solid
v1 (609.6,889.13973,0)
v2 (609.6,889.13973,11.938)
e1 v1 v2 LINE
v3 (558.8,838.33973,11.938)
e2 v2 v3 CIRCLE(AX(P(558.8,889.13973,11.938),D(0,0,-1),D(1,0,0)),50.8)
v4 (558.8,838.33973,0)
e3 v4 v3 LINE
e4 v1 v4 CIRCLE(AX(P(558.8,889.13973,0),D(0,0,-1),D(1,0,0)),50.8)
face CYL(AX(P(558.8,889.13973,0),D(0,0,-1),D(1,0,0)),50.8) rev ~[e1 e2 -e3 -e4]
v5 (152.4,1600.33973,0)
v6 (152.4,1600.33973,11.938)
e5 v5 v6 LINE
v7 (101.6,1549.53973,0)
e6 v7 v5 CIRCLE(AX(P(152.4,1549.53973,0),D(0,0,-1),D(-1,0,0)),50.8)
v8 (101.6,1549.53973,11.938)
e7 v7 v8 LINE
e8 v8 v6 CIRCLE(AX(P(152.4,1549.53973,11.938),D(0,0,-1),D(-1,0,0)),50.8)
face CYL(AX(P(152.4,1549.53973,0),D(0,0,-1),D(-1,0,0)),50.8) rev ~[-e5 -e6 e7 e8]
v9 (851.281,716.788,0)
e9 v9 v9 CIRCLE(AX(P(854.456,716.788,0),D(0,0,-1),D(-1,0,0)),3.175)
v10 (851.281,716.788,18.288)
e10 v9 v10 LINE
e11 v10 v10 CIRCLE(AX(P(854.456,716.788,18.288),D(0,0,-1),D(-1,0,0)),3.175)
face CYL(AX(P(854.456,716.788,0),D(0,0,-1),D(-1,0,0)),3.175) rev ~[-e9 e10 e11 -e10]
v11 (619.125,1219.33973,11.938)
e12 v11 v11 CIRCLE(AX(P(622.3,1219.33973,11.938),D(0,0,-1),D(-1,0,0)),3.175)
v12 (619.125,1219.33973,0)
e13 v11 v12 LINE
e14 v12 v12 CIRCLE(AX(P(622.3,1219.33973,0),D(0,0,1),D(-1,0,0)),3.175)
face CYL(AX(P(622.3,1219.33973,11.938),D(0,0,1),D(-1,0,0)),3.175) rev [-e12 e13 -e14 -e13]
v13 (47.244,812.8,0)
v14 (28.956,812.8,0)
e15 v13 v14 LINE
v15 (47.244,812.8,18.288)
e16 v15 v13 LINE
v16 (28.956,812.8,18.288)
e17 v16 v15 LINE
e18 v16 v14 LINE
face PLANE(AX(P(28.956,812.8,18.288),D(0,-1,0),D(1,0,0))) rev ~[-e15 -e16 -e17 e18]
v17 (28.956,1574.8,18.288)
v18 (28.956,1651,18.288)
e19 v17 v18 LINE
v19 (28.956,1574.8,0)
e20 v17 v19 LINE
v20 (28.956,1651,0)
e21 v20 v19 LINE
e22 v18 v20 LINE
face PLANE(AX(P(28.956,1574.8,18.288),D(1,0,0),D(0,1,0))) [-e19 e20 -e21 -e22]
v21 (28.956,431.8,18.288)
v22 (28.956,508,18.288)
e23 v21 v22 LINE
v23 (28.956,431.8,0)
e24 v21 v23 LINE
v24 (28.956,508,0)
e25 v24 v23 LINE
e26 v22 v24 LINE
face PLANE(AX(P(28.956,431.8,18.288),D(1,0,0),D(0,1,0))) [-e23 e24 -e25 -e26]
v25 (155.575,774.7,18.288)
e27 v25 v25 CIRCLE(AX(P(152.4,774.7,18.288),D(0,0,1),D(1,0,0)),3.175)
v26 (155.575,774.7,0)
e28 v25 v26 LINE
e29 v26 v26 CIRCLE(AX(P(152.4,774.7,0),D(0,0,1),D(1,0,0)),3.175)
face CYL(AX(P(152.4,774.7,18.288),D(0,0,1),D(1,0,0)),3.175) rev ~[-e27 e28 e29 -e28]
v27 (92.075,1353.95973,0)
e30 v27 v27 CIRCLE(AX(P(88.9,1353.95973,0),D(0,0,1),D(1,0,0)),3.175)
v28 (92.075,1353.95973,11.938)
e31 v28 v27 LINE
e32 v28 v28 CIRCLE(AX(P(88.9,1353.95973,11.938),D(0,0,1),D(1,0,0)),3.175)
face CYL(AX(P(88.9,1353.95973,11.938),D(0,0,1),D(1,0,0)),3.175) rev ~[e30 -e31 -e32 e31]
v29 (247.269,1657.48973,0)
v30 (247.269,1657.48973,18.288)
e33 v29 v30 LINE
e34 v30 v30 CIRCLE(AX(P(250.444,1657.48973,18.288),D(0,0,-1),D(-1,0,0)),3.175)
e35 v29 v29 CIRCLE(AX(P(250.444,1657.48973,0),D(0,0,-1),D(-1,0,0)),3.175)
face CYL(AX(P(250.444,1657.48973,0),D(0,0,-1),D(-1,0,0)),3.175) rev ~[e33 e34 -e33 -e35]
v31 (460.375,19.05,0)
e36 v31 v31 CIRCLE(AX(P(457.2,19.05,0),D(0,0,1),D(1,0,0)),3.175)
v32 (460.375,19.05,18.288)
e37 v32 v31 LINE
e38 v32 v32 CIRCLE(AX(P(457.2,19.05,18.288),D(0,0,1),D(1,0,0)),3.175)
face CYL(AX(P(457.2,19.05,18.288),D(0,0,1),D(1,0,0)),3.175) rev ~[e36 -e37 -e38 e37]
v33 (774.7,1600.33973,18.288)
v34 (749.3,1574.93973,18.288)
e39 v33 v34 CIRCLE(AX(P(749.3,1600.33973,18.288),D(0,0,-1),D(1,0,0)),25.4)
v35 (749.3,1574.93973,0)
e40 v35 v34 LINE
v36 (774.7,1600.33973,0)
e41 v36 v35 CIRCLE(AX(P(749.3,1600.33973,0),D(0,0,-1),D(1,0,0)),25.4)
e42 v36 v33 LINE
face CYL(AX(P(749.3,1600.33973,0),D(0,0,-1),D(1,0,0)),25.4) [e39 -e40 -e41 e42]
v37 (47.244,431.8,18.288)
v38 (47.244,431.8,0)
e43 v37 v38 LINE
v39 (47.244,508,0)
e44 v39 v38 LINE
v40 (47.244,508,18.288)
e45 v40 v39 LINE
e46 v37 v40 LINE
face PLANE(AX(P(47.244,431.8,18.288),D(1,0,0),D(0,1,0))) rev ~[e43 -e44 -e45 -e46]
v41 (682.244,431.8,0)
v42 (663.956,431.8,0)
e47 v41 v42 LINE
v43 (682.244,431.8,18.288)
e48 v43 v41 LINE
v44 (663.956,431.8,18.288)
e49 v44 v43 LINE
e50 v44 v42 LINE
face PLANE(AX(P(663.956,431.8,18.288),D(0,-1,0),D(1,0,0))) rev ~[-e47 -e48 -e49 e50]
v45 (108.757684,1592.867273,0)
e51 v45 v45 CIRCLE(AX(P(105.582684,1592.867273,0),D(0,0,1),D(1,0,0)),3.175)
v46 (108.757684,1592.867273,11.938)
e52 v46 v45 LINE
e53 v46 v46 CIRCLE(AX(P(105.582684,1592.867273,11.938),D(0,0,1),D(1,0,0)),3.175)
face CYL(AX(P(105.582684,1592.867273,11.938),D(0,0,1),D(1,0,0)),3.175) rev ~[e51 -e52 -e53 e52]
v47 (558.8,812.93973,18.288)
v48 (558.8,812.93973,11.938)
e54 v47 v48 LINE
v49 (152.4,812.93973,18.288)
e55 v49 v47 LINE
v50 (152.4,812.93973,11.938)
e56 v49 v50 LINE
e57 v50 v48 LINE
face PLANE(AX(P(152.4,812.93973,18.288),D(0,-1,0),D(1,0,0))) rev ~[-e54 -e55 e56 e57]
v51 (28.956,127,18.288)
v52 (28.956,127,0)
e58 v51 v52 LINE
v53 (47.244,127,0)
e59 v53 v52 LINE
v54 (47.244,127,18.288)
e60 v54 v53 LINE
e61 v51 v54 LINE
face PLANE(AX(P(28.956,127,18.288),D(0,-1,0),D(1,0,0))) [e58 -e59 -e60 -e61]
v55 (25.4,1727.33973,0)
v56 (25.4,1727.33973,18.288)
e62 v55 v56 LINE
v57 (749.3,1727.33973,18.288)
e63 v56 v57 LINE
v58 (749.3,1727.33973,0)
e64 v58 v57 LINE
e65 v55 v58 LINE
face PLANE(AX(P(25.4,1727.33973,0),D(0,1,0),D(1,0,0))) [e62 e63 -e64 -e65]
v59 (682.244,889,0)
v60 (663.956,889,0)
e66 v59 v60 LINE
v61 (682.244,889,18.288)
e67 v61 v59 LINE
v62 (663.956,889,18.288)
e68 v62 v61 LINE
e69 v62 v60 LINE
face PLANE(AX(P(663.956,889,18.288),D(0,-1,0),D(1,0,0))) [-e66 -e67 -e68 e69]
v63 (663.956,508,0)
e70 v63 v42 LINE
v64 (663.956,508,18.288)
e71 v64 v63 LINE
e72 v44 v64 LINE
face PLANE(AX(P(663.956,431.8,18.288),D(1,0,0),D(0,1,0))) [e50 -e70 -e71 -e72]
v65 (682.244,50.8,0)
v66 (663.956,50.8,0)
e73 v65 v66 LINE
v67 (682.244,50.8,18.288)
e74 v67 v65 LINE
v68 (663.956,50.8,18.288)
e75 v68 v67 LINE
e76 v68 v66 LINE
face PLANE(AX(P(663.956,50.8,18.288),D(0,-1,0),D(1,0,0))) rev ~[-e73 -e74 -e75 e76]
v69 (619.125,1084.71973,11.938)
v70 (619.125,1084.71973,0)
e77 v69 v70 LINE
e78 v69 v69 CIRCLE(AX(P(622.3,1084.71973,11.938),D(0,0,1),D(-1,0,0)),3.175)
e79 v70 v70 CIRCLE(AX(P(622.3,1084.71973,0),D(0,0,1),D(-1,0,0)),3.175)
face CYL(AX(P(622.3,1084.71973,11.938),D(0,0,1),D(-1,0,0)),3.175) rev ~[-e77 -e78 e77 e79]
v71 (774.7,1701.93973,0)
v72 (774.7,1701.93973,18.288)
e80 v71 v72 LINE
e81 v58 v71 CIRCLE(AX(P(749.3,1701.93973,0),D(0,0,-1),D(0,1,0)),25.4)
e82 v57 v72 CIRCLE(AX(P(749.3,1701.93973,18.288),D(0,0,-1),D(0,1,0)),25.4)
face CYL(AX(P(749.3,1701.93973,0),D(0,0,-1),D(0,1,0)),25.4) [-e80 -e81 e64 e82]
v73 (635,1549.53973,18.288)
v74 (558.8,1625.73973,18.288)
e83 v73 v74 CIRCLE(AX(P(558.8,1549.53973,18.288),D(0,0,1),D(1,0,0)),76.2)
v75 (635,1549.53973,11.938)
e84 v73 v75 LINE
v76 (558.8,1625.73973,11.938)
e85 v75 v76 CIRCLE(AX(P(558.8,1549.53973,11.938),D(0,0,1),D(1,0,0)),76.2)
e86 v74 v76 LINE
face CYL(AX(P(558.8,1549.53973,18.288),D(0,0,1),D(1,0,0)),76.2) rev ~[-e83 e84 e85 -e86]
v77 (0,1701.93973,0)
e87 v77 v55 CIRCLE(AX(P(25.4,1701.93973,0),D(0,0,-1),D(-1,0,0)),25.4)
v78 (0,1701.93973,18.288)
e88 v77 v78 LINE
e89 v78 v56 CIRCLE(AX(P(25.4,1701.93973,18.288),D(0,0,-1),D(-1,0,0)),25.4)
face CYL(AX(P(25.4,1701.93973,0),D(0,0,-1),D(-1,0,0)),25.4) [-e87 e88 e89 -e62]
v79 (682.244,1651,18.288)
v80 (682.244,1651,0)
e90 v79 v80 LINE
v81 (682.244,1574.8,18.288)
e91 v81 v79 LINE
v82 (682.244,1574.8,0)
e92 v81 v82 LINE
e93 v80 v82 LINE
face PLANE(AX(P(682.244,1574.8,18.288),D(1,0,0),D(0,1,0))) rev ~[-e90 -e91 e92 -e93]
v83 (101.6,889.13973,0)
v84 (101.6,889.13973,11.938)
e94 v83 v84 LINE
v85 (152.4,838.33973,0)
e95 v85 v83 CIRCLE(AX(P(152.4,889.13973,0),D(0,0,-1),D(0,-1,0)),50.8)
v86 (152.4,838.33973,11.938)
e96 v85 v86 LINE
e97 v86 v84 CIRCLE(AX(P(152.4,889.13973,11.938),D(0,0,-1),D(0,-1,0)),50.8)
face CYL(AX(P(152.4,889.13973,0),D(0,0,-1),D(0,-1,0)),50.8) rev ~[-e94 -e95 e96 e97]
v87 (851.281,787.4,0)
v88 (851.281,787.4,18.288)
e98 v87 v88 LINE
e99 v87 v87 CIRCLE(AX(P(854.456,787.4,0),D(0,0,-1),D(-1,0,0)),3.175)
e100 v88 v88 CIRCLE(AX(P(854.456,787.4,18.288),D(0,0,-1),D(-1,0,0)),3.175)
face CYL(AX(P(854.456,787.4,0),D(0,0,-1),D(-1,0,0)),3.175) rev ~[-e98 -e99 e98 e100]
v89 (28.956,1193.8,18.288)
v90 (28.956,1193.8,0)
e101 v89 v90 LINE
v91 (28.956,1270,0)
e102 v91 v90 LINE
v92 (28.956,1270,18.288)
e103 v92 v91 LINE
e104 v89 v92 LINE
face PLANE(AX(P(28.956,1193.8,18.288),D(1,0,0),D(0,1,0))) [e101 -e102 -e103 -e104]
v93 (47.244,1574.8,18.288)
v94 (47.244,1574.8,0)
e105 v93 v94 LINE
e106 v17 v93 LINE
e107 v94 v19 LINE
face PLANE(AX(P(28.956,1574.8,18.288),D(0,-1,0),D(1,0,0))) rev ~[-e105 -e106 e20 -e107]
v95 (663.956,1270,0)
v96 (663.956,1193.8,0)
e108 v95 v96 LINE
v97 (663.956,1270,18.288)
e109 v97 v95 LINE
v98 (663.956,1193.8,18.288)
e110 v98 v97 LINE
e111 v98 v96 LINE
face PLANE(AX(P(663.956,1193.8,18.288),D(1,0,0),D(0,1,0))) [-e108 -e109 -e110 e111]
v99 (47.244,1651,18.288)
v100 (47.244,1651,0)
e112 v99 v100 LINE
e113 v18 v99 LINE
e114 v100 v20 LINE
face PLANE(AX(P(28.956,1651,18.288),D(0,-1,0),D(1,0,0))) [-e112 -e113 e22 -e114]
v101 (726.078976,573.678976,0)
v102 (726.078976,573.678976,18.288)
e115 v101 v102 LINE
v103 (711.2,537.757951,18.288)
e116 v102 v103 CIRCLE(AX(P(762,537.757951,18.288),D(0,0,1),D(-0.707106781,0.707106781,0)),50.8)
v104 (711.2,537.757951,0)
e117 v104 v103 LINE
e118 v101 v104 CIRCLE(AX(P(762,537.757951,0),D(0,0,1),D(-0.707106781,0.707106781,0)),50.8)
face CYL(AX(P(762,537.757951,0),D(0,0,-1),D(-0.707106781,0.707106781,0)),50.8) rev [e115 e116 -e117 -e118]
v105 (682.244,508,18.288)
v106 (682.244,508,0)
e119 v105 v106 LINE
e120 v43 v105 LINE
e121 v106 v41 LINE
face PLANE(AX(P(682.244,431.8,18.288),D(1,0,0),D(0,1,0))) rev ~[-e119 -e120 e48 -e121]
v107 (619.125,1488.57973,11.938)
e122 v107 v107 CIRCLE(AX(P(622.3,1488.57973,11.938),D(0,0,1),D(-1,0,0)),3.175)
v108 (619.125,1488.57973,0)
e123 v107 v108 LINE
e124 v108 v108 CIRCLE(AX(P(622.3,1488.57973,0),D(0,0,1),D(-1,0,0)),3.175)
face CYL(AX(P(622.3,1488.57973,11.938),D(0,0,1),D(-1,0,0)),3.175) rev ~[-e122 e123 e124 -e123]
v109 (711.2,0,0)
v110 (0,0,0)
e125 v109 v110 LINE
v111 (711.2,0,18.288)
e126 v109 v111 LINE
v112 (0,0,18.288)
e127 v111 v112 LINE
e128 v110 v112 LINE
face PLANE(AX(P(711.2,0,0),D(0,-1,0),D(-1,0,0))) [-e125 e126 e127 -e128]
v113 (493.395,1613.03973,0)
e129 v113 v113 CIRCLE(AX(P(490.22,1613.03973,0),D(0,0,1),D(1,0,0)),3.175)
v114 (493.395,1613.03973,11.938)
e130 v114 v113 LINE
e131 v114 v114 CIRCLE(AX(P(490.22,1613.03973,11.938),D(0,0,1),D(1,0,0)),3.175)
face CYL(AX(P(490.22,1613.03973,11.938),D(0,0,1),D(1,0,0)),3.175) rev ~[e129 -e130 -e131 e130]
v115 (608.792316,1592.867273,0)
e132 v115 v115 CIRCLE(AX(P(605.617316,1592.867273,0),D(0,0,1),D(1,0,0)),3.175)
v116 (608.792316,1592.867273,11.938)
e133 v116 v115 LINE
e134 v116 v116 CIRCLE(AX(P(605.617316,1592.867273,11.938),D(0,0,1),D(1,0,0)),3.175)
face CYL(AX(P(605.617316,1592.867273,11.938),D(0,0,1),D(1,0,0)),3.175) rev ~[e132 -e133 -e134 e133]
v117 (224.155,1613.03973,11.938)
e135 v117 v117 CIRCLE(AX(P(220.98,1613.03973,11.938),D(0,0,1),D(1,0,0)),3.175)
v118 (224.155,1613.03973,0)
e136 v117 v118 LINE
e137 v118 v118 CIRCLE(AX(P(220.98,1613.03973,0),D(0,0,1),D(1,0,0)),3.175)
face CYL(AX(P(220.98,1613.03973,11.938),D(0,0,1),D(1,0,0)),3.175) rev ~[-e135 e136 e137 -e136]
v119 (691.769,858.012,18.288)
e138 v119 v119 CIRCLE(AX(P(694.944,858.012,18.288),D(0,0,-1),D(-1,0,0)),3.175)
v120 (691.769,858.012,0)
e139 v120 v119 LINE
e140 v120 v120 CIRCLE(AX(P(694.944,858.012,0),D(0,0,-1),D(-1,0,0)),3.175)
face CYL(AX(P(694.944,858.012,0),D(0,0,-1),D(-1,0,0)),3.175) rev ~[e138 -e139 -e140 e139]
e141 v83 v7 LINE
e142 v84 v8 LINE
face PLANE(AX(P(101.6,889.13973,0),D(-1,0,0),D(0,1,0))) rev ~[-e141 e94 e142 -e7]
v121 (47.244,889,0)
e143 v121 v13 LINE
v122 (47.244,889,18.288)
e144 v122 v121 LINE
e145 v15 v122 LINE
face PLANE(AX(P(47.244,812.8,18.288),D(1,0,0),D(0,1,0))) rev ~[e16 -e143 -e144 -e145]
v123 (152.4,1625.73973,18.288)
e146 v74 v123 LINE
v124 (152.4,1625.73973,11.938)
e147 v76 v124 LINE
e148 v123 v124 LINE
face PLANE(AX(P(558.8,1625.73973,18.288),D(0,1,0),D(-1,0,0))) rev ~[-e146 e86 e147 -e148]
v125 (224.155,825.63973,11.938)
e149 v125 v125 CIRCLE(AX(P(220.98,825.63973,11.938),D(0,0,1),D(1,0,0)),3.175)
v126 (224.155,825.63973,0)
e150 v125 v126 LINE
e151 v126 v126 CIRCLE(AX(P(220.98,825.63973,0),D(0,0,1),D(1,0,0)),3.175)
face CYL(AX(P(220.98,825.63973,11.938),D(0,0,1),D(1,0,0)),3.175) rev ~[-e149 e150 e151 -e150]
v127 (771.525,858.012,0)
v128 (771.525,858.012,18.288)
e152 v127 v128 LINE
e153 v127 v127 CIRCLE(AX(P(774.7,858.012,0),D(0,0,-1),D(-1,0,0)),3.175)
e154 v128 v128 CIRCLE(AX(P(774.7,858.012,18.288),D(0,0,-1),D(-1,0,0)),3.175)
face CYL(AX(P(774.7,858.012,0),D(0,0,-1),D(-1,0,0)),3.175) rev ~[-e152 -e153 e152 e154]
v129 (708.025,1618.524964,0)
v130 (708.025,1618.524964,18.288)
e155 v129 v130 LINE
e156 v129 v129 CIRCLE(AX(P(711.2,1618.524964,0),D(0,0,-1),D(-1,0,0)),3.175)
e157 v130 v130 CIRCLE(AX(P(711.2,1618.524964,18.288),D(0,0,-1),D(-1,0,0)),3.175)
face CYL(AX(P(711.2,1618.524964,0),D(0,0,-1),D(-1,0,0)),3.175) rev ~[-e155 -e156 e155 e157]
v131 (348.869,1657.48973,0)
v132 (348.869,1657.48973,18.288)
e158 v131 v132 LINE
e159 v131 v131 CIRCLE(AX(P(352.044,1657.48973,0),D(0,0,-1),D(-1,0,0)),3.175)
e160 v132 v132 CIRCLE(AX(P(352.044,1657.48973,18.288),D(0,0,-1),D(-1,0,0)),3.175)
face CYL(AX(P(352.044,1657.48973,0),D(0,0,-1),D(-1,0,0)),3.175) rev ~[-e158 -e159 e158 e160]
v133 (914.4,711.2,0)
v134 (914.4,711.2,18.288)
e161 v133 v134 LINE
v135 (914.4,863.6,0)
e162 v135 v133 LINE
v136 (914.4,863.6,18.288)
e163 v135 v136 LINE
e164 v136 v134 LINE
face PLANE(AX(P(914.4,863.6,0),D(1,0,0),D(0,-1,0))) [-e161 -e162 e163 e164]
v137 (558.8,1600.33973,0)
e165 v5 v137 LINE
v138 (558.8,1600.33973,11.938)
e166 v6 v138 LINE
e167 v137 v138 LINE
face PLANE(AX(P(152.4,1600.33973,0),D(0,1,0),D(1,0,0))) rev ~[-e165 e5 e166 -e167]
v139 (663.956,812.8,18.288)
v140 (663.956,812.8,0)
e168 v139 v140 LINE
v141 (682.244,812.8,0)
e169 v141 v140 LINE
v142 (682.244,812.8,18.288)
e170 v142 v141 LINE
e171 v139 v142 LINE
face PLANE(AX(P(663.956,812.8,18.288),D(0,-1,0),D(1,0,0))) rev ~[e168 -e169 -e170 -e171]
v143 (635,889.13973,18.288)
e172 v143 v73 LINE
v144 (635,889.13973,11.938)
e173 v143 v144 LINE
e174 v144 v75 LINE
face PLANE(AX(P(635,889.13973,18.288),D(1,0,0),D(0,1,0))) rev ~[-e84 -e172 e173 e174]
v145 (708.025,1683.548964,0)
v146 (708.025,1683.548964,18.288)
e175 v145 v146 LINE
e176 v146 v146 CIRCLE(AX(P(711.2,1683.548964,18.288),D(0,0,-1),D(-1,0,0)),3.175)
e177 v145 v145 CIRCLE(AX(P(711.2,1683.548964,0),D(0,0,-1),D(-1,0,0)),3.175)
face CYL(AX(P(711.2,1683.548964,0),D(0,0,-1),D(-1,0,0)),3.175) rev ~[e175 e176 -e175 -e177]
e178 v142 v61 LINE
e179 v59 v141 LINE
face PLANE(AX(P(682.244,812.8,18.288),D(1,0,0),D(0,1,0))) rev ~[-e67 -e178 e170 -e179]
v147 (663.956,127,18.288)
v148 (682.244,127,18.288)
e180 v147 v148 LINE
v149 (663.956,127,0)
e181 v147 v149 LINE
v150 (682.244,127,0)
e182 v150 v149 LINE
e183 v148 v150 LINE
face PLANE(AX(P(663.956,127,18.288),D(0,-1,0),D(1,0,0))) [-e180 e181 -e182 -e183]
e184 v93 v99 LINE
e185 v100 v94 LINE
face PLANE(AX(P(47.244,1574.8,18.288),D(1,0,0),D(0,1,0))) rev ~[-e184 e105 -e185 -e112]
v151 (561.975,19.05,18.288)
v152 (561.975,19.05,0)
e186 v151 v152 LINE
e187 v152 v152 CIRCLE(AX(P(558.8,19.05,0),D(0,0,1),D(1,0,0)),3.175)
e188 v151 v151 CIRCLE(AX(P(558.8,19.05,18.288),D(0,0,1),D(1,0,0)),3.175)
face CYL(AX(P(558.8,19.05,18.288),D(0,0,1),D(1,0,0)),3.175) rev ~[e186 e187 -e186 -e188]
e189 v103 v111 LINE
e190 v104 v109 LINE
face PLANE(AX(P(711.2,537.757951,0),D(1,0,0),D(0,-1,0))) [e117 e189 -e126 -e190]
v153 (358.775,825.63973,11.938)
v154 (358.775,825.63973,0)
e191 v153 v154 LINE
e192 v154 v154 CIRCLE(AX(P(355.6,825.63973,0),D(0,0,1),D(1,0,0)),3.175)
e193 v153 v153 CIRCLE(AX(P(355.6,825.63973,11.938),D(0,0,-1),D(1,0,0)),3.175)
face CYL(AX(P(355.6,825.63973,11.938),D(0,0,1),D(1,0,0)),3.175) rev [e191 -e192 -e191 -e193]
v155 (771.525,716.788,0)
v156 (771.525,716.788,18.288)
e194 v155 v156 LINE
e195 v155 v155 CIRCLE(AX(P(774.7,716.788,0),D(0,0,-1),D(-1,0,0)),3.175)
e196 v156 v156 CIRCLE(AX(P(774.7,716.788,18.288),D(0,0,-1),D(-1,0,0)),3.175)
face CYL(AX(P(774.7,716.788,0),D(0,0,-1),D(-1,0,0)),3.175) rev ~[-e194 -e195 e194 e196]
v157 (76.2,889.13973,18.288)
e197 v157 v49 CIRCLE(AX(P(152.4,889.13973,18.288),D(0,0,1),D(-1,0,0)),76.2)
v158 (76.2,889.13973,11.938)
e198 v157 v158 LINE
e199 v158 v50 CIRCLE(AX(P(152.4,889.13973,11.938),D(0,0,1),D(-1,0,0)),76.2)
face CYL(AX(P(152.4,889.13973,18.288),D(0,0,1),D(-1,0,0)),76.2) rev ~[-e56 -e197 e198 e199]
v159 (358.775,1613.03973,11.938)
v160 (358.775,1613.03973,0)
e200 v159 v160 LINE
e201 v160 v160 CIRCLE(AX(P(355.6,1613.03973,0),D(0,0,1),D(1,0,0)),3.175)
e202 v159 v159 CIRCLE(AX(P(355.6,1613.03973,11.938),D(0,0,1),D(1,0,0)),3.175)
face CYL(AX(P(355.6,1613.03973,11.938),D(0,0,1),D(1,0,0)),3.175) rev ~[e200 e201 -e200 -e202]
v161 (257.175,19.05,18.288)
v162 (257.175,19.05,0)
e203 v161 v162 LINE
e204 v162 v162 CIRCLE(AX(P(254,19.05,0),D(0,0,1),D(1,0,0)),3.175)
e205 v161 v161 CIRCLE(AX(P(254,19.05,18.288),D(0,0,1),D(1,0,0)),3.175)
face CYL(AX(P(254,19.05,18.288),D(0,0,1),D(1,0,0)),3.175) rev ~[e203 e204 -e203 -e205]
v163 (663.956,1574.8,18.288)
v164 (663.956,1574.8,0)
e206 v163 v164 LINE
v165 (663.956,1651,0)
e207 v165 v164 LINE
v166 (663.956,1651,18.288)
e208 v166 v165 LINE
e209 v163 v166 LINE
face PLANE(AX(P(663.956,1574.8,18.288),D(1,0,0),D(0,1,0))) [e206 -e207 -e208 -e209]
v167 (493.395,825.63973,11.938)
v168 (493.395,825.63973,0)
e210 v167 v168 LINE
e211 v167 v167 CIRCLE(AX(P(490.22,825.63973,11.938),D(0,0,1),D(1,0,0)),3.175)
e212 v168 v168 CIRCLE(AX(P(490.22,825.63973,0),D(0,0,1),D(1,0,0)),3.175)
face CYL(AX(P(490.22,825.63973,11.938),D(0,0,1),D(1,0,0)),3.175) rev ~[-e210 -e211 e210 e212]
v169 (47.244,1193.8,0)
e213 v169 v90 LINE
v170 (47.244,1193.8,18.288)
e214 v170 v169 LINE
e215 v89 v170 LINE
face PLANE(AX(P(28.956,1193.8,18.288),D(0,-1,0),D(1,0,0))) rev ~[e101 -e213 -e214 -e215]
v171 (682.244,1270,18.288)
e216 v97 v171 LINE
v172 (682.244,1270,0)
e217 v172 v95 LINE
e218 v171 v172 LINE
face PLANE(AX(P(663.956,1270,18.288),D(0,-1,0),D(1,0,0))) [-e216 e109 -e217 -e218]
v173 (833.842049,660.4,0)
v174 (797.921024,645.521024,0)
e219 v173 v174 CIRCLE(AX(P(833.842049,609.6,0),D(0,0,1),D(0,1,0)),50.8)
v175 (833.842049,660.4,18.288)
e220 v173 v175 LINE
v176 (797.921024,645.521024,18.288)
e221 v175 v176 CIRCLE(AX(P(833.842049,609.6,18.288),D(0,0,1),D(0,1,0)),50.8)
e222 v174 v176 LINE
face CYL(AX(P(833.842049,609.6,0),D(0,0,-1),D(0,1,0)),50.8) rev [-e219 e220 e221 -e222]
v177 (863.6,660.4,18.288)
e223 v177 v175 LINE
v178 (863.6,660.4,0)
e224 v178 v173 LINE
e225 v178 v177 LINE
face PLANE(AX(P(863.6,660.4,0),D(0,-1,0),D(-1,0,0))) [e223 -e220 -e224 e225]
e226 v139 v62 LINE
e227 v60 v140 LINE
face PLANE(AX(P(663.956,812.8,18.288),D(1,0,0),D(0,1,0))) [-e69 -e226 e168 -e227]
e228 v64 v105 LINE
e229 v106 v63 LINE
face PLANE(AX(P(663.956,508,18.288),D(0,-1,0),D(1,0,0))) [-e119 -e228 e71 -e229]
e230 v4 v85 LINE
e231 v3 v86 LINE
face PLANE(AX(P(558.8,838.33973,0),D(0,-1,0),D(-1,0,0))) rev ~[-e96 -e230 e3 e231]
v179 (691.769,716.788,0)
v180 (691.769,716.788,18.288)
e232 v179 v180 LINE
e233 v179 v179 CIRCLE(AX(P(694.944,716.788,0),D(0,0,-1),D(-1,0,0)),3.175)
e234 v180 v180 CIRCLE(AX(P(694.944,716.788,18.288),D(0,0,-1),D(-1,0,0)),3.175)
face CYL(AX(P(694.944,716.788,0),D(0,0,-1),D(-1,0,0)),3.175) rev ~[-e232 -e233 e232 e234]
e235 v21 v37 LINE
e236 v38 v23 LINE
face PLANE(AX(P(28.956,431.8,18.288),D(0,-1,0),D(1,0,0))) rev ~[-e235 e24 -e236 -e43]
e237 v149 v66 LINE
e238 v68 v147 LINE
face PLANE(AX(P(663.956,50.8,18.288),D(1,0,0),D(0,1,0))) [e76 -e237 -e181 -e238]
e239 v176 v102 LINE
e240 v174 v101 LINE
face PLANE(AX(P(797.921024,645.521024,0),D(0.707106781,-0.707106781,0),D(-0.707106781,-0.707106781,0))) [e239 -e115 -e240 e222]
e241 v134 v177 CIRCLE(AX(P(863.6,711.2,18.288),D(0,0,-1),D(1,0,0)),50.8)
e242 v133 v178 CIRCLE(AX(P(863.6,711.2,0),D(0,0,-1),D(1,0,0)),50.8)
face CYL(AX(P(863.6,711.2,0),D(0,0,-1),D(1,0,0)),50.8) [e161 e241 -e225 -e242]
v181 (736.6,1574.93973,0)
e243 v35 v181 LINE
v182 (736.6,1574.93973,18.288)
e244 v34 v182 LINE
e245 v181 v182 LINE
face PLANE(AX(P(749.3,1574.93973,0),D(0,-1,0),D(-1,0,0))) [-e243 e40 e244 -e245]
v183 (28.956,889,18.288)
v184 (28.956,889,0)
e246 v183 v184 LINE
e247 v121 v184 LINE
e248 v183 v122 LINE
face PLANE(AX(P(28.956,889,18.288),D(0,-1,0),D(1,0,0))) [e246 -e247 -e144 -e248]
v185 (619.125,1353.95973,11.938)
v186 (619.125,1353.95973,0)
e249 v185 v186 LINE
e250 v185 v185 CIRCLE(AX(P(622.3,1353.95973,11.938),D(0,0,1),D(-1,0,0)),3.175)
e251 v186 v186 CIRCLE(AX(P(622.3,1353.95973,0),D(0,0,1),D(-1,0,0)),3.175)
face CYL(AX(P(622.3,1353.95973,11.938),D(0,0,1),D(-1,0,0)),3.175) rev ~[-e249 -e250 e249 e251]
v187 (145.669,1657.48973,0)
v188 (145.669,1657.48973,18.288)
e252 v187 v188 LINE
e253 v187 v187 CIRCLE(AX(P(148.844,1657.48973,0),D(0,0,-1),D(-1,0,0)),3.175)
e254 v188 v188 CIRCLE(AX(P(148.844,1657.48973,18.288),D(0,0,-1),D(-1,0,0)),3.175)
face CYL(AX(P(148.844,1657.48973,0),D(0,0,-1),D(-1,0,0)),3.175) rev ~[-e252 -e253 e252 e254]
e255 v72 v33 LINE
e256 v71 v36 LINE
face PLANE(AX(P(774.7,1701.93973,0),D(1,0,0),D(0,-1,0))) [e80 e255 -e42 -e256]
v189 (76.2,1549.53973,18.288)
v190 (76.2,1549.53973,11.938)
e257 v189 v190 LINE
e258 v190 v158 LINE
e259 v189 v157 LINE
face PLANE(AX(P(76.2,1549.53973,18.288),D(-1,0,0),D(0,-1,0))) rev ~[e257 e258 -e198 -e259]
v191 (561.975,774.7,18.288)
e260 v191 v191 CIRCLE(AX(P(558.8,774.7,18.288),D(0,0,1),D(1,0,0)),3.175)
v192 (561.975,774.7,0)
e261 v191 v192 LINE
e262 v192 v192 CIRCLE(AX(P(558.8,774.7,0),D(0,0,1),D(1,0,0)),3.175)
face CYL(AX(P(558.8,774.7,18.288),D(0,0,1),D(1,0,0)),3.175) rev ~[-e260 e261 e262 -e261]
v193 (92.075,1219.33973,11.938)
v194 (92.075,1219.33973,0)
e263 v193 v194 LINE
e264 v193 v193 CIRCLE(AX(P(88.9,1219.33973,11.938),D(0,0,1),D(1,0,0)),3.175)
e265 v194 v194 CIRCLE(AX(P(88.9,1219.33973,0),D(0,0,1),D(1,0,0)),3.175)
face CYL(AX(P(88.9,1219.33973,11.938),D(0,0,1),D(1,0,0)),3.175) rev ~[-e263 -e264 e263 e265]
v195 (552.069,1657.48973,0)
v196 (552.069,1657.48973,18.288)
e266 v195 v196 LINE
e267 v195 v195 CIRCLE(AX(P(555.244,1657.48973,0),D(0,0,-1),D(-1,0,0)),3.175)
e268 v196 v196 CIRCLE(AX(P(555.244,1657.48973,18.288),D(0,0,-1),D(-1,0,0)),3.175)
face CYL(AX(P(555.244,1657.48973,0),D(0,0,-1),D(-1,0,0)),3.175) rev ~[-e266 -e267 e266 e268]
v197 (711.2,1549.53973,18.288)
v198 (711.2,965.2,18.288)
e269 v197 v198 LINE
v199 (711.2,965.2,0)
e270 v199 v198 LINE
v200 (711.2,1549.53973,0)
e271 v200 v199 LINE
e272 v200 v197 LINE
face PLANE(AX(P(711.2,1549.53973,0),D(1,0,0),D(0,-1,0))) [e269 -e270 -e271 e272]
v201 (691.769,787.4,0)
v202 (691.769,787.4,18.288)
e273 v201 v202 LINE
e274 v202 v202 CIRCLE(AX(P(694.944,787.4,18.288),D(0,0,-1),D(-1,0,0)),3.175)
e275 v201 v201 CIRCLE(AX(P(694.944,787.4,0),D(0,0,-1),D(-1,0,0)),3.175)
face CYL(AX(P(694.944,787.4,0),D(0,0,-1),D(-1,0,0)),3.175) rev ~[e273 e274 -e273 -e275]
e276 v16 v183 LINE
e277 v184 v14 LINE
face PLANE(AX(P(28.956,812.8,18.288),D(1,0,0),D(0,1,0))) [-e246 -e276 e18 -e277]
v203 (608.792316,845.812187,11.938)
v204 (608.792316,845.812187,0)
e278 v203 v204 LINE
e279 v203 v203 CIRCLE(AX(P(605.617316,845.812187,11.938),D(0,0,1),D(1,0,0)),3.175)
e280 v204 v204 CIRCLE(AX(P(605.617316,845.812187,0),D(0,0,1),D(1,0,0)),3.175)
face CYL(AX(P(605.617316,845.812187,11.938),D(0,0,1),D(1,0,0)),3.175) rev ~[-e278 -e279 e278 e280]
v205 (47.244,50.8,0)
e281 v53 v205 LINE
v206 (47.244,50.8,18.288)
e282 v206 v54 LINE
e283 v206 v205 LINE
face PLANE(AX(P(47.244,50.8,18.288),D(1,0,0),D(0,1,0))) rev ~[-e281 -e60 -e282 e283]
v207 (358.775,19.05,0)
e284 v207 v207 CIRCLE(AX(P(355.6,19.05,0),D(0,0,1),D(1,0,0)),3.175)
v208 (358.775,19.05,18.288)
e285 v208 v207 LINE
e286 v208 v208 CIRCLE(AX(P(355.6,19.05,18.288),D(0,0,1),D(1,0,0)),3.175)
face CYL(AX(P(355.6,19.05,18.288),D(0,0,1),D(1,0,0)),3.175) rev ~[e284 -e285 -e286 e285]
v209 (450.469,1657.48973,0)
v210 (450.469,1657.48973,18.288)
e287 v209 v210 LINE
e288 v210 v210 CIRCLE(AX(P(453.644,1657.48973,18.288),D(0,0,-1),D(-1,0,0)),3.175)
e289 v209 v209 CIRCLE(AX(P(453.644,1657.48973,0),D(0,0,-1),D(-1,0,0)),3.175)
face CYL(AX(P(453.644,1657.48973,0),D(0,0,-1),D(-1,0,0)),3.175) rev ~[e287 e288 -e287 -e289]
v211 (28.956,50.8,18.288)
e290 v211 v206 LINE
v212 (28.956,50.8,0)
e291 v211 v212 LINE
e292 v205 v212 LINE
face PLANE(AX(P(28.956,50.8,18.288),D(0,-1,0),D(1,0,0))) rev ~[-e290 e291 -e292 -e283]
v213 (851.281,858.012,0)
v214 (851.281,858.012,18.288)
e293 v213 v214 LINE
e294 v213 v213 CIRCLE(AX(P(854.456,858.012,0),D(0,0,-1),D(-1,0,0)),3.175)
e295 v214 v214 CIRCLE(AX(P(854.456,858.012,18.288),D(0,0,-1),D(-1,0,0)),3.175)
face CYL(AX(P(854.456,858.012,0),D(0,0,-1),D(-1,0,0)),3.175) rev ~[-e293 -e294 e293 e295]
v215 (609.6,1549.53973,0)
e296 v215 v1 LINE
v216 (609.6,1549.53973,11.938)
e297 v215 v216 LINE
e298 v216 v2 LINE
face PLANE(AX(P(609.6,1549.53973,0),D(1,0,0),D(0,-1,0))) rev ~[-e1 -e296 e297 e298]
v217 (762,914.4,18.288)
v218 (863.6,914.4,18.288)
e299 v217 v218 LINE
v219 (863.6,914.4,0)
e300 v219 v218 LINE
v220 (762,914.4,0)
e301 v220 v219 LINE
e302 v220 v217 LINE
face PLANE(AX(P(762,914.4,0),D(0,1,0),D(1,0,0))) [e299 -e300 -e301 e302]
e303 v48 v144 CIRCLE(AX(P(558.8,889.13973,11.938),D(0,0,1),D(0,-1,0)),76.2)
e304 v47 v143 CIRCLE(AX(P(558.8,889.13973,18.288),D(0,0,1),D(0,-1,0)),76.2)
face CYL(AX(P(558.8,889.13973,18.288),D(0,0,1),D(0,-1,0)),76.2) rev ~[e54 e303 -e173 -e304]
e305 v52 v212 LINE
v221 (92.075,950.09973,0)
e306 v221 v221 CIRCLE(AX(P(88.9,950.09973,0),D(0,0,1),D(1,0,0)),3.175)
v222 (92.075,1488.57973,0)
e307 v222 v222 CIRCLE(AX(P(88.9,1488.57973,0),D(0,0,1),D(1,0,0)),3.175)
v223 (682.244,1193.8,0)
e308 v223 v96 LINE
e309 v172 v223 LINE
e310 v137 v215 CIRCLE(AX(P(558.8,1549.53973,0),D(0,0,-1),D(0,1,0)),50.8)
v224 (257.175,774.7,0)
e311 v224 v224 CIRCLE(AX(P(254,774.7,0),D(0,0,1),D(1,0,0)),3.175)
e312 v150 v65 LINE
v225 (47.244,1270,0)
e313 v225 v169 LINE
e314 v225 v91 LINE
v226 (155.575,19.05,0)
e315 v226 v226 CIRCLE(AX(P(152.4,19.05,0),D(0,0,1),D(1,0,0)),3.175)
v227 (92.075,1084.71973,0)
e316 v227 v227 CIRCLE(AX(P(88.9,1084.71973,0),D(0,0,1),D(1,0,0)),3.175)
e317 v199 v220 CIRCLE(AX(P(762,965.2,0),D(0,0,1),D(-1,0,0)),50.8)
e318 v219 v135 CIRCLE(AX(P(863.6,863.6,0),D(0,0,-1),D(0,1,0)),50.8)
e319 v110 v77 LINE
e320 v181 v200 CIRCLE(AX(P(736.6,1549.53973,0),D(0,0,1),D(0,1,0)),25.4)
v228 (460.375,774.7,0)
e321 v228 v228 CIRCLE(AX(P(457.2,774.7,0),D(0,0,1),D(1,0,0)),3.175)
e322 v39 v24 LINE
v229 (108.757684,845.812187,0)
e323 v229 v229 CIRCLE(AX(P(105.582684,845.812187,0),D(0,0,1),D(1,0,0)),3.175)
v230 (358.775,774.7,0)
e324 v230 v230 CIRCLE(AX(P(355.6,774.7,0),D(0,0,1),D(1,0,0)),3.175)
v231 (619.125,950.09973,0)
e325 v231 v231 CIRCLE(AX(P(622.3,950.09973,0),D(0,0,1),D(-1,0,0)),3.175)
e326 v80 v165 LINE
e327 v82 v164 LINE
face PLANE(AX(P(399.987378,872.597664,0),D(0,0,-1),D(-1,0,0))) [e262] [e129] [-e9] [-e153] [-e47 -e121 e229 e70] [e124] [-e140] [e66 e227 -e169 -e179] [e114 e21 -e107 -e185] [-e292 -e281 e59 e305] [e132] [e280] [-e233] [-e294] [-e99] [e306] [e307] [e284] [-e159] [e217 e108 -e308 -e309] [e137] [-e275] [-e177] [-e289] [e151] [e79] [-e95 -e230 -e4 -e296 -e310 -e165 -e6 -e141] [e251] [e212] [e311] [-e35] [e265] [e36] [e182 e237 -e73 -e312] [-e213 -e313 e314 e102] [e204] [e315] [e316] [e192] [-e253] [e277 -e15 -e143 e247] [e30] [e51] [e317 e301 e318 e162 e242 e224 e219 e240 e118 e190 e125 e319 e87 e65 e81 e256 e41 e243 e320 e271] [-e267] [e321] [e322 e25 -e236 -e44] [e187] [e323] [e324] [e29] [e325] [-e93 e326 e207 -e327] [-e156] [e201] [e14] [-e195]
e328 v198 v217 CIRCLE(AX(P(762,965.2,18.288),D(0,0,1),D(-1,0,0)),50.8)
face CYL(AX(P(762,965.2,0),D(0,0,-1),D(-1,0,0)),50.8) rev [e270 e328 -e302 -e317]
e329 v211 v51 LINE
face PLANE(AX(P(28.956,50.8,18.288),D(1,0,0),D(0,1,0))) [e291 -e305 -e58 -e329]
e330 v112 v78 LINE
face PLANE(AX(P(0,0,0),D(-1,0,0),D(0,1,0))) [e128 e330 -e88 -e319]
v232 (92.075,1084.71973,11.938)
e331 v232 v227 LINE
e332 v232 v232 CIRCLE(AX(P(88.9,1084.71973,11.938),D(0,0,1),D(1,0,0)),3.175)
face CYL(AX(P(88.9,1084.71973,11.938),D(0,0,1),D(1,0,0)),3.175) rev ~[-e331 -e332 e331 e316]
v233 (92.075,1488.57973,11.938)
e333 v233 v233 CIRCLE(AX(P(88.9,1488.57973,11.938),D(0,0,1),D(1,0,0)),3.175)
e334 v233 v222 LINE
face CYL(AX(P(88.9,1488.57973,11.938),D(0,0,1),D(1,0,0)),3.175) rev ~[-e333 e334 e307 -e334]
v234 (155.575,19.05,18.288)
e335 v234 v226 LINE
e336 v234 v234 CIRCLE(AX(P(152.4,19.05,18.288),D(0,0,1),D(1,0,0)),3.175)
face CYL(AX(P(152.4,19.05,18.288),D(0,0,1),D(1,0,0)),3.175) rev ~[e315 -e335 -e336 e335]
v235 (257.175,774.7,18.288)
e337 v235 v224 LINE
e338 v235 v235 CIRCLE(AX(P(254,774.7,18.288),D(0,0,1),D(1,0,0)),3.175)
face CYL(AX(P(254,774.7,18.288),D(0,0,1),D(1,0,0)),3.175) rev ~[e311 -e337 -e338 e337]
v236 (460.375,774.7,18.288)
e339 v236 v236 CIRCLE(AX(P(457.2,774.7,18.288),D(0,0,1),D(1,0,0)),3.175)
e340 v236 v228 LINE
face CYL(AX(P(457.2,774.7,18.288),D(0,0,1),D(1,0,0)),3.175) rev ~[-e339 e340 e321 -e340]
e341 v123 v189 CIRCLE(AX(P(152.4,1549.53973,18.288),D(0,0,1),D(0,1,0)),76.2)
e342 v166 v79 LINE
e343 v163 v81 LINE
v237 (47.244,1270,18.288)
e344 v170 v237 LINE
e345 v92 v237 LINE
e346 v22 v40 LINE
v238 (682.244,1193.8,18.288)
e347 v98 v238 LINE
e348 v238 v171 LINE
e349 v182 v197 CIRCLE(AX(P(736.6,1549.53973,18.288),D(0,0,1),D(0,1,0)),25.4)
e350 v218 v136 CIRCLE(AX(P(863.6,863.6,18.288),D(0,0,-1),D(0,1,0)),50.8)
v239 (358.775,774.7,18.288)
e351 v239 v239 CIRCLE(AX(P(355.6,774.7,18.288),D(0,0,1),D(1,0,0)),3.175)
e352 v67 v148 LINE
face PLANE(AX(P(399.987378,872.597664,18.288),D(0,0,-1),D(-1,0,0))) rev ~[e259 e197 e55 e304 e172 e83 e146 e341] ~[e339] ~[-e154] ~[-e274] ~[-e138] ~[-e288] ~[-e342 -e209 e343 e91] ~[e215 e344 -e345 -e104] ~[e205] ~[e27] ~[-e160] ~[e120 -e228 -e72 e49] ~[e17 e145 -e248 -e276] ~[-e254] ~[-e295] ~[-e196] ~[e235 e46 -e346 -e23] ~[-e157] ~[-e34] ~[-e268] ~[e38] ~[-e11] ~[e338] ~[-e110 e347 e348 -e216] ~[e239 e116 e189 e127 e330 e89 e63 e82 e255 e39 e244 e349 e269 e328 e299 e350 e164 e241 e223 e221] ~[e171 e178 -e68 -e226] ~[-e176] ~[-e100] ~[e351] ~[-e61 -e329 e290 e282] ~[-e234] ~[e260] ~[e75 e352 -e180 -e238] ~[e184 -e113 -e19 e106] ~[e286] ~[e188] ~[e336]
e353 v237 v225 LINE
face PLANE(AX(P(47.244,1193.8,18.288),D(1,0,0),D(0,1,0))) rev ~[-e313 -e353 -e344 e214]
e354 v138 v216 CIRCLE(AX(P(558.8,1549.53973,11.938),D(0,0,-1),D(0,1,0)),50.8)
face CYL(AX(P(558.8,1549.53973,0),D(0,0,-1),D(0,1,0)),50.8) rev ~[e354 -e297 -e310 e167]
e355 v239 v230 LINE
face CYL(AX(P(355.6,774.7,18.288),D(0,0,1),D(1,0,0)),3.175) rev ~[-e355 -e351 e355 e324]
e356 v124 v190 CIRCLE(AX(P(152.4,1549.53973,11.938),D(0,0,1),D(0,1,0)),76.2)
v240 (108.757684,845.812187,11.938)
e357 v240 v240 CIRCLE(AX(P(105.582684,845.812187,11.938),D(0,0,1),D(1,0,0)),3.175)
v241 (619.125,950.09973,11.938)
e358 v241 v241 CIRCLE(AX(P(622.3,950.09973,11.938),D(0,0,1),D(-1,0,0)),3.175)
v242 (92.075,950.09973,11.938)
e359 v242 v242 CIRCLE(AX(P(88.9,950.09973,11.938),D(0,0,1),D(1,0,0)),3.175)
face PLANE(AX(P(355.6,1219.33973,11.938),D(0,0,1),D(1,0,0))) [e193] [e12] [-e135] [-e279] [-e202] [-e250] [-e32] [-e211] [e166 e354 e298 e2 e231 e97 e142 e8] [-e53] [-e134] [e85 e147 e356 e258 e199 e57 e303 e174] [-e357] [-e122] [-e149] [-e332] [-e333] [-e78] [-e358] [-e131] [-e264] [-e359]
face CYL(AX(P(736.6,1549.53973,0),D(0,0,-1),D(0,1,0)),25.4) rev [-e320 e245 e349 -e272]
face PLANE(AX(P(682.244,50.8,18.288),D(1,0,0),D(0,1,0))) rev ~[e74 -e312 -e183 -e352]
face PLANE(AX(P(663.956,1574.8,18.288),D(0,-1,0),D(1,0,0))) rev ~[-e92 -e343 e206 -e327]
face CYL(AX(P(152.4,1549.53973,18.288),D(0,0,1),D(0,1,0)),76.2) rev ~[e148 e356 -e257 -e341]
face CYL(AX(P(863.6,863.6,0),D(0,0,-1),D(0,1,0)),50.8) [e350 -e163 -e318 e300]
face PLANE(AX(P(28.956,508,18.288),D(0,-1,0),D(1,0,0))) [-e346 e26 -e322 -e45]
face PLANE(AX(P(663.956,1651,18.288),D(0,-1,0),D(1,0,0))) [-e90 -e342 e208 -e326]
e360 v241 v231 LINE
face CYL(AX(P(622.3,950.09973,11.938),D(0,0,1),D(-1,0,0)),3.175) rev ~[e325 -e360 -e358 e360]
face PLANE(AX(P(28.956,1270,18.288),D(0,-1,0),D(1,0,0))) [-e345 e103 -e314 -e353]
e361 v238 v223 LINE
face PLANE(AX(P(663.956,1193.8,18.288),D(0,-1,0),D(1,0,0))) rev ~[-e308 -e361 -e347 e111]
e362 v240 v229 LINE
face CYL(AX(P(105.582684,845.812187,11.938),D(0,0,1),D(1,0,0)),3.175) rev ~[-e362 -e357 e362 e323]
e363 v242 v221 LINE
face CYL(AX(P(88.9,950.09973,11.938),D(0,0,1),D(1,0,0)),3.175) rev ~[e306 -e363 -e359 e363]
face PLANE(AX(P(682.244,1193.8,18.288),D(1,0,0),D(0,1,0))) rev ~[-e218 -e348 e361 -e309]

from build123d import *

# Parameters (mm, degrees)
BOSS_EXTRUDE1_DEPTH     = 18.288
SKETCH1_W               = 18.288
SKETCH1_H               = 76.2
MORTISE_CUTS_DEPTH      = 1955.524073472
LPATTERN1_COUNT         = 5
LPATTERN1_PITCH         = 381
WINDOW_RECESS_DEPTH     = 6.35
SKETCH3_R               = 3.175
CUT_EXTRUDE4_DEPTH      = 1955.474972641
SKETCH6_R               = 3.175
CUT_EXTRUDE5_DEPTH      = 1955.474972641
LPATTERN2_COUNT         = 3
LPATTERN2_PITCH         = 134.62
LPATTERN2_COL_COUNT     = 3
LPATTERN2_COL_PITCH     = 134.62
MIRROR1_COPY_1_SKETCH_R = 3.175
MIRROR1_COPY_1_DEPTH    = 1955.474972641
MIRROR1_COPY_2_SKETCH_R = 3.175
MIRROR1_COPY_2_DEPTH    = 1955.474972641
MIRROR1_COPY_3_SKETCH_R = 3.175
MIRROR1_COPY_3_DEPTH    = 1955.474972641
MIRROR1_COPY_4_SKETCH_R = 3.175
MIRROR1_COPY_4_DEPTH    = 1955.474972641
SKETCH7_R               = 3.175
CUT_EXTRUDE6_DEPTH      = 1955.474972641
LPATTERN3_COUNT         = 2
LPATTERN3_PITCH         = 134.62
LPATTERN3_COL_COUNT     = 2
LPATTERN3_COL_PITCH     = 134.62
MIRROR2_COPY_1_SKETCH_R = 3.175
MIRROR2_COPY_1_DEPTH    = 1955.474972641
MIRROR2_COPY_2_SKETCH_R = 3.175
MIRROR2_COPY_2_DEPTH    = 1955.474972641
SKETCH8_R               = 3.175
CUT_EXTRUDE7_DEPTH      = 1955.524073472
SKETCH9_R               = 3.175
CUT_EXTRUDE8_DEPTH      = 1955.524073472
SKETCH10_R              = 3.175
CUT_EXTRUDE9_DEPTH      = 1955.524073472
SKETCH11_R              = 3.175
CUT_EXTRUDE10_DEPTH     = 1955.524073472


with BuildPart() as part:
    # Model → Boss-Extrude1 (new body)
    with BuildSketch(Plane.XY):
        with BuildLine():
            Line((797.921024484, 645.521024484), (726.078975516, 573.678975516))
            ThreePointArc((726.078975516, 573.678975516), (715.066919748, 557.198269396), (711.2, 537.757951031))
            Line((711.2, 537.757951031), (711.2, 0))
            Line((711.2, 0), (0, 0))
            Line((0, 0), (0, 1701.93973))
            ThreePointArc((0, 1701.93973), (7.439487758, 1719.900242242), (25.4, 1727.33973))
            Line((25.4, 1727.33973), (711.2, 1727.33973))
            Line((711.2, 1727.33973), (749.3, 1727.33973))
            ThreePointArc((749.3, 1727.33973), (767.260512242, 1719.900242242), (774.7, 1701.93973))
            Line((774.7, 1701.93973), (774.7, 1600.33973))
            ThreePointArc((774.7, 1600.33973), (767.260512242, 1582.379217758), (749.3, 1574.93973))
            Line((749.3, 1574.93973), (736.6, 1574.93973))
            ThreePointArc((736.6, 1574.93973), (718.639487758, 1567.500242242), (711.2, 1549.53973))
            Line((711.2, 1549.53973), (711.2, 965.2))
            ThreePointArc((711.2, 965.2), (726.078975516, 929.278975516), (762, 914.4))
            Line((762, 914.4), (863.6, 914.4))
            ThreePointArc((863.6, 914.4), (899.521024484, 899.521024484), (914.4, 863.6))
            Line((914.4, 863.6), (914.4, 711.2))
            ThreePointArc((914.4, 711.2), (899.521024484, 675.278975516), (863.6, 660.4))
            Line((863.6, 660.4), (833.842048969, 660.4))
            ThreePointArc((833.842048969, 660.4), (814.401730604, 656.533080252), (797.921024484, 645.521024484))
        make_face()
        with BuildLine():
            Line((558.8, 838.33973), (152.4, 838.33973))
            ThreePointArc((152.4, 838.33973), (116.478975516, 853.218705516), (101.6, 889.13973))
            Line((101.6, 889.13973), (101.6, 1549.53973))
            ThreePointArc((101.6, 1549.53973), (116.478975516, 1585.460754484), (152.4, 1600.33973))
            Line((152.4, 1600.33973), (558.8, 1600.33973))
            ThreePointArc((558.8, 1600.33973), (594.721024484, 1585.460754484), (609.6, 1549.53973))
            Line((609.6, 1549.53973), (609.6, 889.13973))
            ThreePointArc((609.6, 889.13973), (594.721024484, 853.218705516), (558.8, 838.33973))
        make_face(mode=Mode.SUBTRACT)
    extrude(amount=BOSS_EXTRUDE1_DEPTH)

    # Sketch1 → Mortise cuts (cut, through all)
    with BuildSketch(Plane.XY.offset(18.288)):
        with Locations((673.1, 88.9)):
            Rectangle(SKETCH1_W, SKETCH1_H)
        with Locations((38.1, 88.9)):
            Rectangle(SKETCH1_W, SKETCH1_H)
    mortise_cuts = extrude(amount=-MORTISE_CUTS_DEPTH, mode=Mode.SUBTRACT)

    # LPattern1: Mortise cuts ×5
    with Locations(*[(0, i * LPATTERN1_PITCH, 0) for i in range(1, LPATTERN1_COUNT)]):
        add(mortise_cuts, mode=Mode.SUBTRACT)

    # Sketch2 → Window Recess (cut)
    with BuildSketch(Plane.XY.offset(18.288)):
        with BuildLine():
            Line((635, 889.13973), (635, 1549.53973))
            ThreePointArc((635, 1549.53973), (612.681536726, 1603.421266726), (558.8, 1625.73973))
            Line((558.8, 1625.73973), (152.4, 1625.73973))
            ThreePointArc((152.4, 1625.73973), (98.518463274, 1603.421266726), (76.2, 1549.53973))
            Line((76.2, 1549.53973), (76.2, 889.13973))
            ThreePointArc((76.2, 889.13973), (98.518463274, 835.258193274), (152.4, 812.93973))
            Line((152.4, 812.93973), (558.8, 812.93973))
            ThreePointArc((558.8, 812.93973), (612.681536726, 835.258193274), (635, 889.13973))
        make_face()
    extrude(amount=-WINDOW_RECESS_DEPTH, mode=Mode.SUBTRACT)

    # Sketch3 → Cut-Extrude4 (cut, through all)
    with BuildSketch(Plane.XY.offset(11.938)):
        with Locations((105.582684355, 1592.867273145)):
            Circle(SKETCH3_R)
        with Locations((605.617315645, 1592.867273145)):
            Circle(SKETCH3_R)
        with Locations((605.617315645, 845.812186855)):
            Circle(SKETCH3_R)
        with Locations((105.582684355, 845.812186855)):
            Circle(SKETCH3_R)
    extrude(amount=-CUT_EXTRUDE4_DEPTH, mode=Mode.SUBTRACT)

    # Sketch6 → Cut-Extrude5 (cut, through all)
    with BuildSketch(Plane.XY.offset(11.938)):
        with Locations((88.9, 1219.33973)):
            Circle(SKETCH6_R)
    cut_extrude5 = extrude(amount=-CUT_EXTRUDE5_DEPTH, mode=Mode.SUBTRACT)

    # LPattern2: Cut-Extrude5 ×3
    with Locations(*[(0, -i * LPATTERN2_PITCH, 0) for i in range(1, LPATTERN2_COUNT)]):
        add(cut_extrude5, mode=Mode.SUBTRACT)

    # LPattern2 col: Cut-Extrude5 ×3
    with Locations(*[(0, i * LPATTERN2_COL_PITCH, 0) for i in range(1, LPATTERN2_COL_COUNT)]):
        add(cut_extrude5, mode=Mode.SUBTRACT)

    # Mirror1: Cut-Extrude5 across plane
    add(cut_extrude5.mirror(Plane.ZY.offset(-355.6)), mode=Mode.SUBTRACT)

    # Mirror1 copy 1 sketch → Mirror1 copy 1 (cut, through all)
    with BuildSketch(Plane(origin=(711.2, -134.62, 11.938), x_dir=(-1, 0, 0), z_dir=(0, 0, 1))):
        with Locations((88.9, -1219.33973)):
            Circle(MIRROR1_COPY_1_SKETCH_R)
    extrude(amount=-MIRROR1_COPY_1_DEPTH, mode=Mode.SUBTRACT)

    # Mirror1 copy 2 sketch → Mirror1 copy 2 (cut, through all)
    with BuildSketch(Plane(origin=(711.2, -269.24, 11.938), x_dir=(-1, 0, 0), z_dir=(0, 0, 1))):
        with Locations((88.9, -1219.33973)):
            Circle(MIRROR1_COPY_2_SKETCH_R)
    extrude(amount=-MIRROR1_COPY_2_DEPTH, mode=Mode.SUBTRACT)

    # Mirror1 copy 3 sketch → Mirror1 copy 3 (cut, through all)
    with BuildSketch(Plane(origin=(711.2, 134.62, 11.938), x_dir=(-1, 0, 0), z_dir=(0, 0, 1))):
        with Locations((88.9, -1219.33973)):
            Circle(MIRROR1_COPY_3_SKETCH_R)
    extrude(amount=-MIRROR1_COPY_3_DEPTH, mode=Mode.SUBTRACT)

    # Mirror1 copy 4 sketch → Mirror1 copy 4 (cut, through all)
    with BuildSketch(Plane(origin=(711.2, 269.24, 11.938), x_dir=(-1, 0, 0), z_dir=(0, 0, 1))):
        with Locations((88.9, -1219.33973)):
            Circle(MIRROR1_COPY_4_SKETCH_R)
    extrude(amount=-MIRROR1_COPY_4_DEPTH, mode=Mode.SUBTRACT)

    # Sketch7 → Cut-Extrude6 (cut, through all)
    with BuildSketch(Plane.XY.offset(11.938)):
        with Locations((355.6, 1613.03973)):
            Circle(SKETCH7_R)
    cut_extrude6 = extrude(amount=-CUT_EXTRUDE6_DEPTH, mode=Mode.SUBTRACT)

    # LPattern3: Cut-Extrude6 ×2
    with Locations(*[(i * LPATTERN3_PITCH, 0, 0) for i in range(1, LPATTERN3_COUNT)]):
        add(cut_extrude6, mode=Mode.SUBTRACT)

    # LPattern3 col: Cut-Extrude6 ×2
    with Locations(*[(-i * LPATTERN3_COL_PITCH, 0, 0) for i in range(1, LPATTERN3_COL_COUNT)]):
        add(cut_extrude6, mode=Mode.SUBTRACT)

    # Mirror2: Cut-Extrude6 across plane
    add(cut_extrude6.mirror(Plane(origin=(0, 1219.33973, 0), x_dir=(0, 0, 1), z_dir=(0, -1, 0))), mode=Mode.SUBTRACT)

    # Mirror2 copy 1 sketch → Mirror2 copy 1 (cut, through all)
    with BuildSketch(Plane(origin=(134.62, 2438.67946, 11.938), x_dir=(1, 0, 0), z_dir=(0, 0, 1))):
        with Locations((355.6, -1613.03973)):
            Circle(MIRROR2_COPY_1_SKETCH_R)
    extrude(amount=-MIRROR2_COPY_1_DEPTH, mode=Mode.SUBTRACT)

    # Mirror2 copy 2 sketch → Mirror2 copy 2 (cut, through all)
    with BuildSketch(Plane(origin=(-134.62, 2438.67946, 11.938), x_dir=(1, 0, 0), z_dir=(0, 0, 1))):
        with Locations((355.6, -1613.03973)):
            Circle(MIRROR2_COPY_2_SKETCH_R)
    extrude(amount=-MIRROR2_COPY_2_DEPTH, mode=Mode.SUBTRACT)

    # Sketch8 → Cut-Extrude7 (cut, through all)
    with BuildSketch(Plane.XY.offset(18.288)):
        with Locations((558.8, 774.7)):
            Circle(SKETCH8_R)
        with Locations((457.2, 774.7)):
            Circle(SKETCH8_R)
        with Locations((355.6, 774.7)):
            Circle(SKETCH8_R)
        with Locations((254, 774.7)):
            Circle(SKETCH8_R)
        with Locations((152.4, 774.7)):
            Circle(SKETCH8_R)
        with Locations((558.8, 19.05)):
            Circle(SKETCH8_R)
        with Locations((457.2, 19.05)):
            Circle(SKETCH8_R)
        with Locations((355.6, 19.05)):
            Circle(SKETCH8_R)
        with Locations((254, 19.05)):
            Circle(SKETCH8_R)
        with Locations((152.4, 19.05)):
            Circle(SKETCH8_R)
    extrude(amount=-CUT_EXTRUDE7_DEPTH, mode=Mode.SUBTRACT)

    # Sketch9 → Cut-Extrude8 (cut, through all)
    with BuildSketch(Plane(origin=(0, 0, 0), x_dir=(-1, 0, 0), z_dir=(0, 0, -1))):
        with Locations((-774.7, 858.012)):
            Circle(SKETCH9_R)
        with Locations((-854.456, 858.012)):
            Circle(SKETCH9_R)
        with Locations((-694.944, 858.012)):
            Circle(SKETCH9_R)
        with Locations((-694.944, 787.4)):
            Circle(SKETCH9_R)
        with Locations((-694.944, 716.788)):
            Circle(SKETCH9_R)
        with Locations((-774.7, 716.788)):
            Circle(SKETCH9_R)
        with Locations((-854.456, 716.788)):
            Circle(SKETCH9_R)
        with Locations((-854.456, 787.4)):
            Circle(SKETCH9_R)
    extrude(amount=-CUT_EXTRUDE8_DEPTH, mode=Mode.SUBTRACT)

    # Sketch10 → Cut-Extrude9 (cut, through all)
    with BuildSketch(Plane(origin=(0, 0, 0), x_dir=(-1, 0, 0), z_dir=(0, 0, -1))):
        with Locations((-555.244, 1657.48973)):
            Circle(SKETCH10_R)
        with Locations((-453.644, 1657.48973)):
            Circle(SKETCH10_R)
        with Locations((-352.044, 1657.48973)):
            Circle(SKETCH10_R)
        with Locations((-250.444, 1657.48973)):
            Circle(SKETCH10_R)
        with Locations((-148.844, 1657.48973)):
            Circle(SKETCH10_R)
    extrude(amount=-CUT_EXTRUDE9_DEPTH, mode=Mode.SUBTRACT)

    # Sketch11 → Cut-Extrude10 (cut, through all)
    with BuildSketch(Plane(origin=(0, 0, 0), x_dir=(-1, 0, 0), z_dir=(0, 0, -1))):
        with Locations((-711.2, 1683.548964167)):
            Circle(SKETCH11_R)
        with Locations((-711.2, 1618.524964167)):
            Circle(SKETCH11_R)
    extrude(amount=-CUT_EXTRUDE10_DEPTH, mode=Mode.SUBTRACT)


solid = part.part
